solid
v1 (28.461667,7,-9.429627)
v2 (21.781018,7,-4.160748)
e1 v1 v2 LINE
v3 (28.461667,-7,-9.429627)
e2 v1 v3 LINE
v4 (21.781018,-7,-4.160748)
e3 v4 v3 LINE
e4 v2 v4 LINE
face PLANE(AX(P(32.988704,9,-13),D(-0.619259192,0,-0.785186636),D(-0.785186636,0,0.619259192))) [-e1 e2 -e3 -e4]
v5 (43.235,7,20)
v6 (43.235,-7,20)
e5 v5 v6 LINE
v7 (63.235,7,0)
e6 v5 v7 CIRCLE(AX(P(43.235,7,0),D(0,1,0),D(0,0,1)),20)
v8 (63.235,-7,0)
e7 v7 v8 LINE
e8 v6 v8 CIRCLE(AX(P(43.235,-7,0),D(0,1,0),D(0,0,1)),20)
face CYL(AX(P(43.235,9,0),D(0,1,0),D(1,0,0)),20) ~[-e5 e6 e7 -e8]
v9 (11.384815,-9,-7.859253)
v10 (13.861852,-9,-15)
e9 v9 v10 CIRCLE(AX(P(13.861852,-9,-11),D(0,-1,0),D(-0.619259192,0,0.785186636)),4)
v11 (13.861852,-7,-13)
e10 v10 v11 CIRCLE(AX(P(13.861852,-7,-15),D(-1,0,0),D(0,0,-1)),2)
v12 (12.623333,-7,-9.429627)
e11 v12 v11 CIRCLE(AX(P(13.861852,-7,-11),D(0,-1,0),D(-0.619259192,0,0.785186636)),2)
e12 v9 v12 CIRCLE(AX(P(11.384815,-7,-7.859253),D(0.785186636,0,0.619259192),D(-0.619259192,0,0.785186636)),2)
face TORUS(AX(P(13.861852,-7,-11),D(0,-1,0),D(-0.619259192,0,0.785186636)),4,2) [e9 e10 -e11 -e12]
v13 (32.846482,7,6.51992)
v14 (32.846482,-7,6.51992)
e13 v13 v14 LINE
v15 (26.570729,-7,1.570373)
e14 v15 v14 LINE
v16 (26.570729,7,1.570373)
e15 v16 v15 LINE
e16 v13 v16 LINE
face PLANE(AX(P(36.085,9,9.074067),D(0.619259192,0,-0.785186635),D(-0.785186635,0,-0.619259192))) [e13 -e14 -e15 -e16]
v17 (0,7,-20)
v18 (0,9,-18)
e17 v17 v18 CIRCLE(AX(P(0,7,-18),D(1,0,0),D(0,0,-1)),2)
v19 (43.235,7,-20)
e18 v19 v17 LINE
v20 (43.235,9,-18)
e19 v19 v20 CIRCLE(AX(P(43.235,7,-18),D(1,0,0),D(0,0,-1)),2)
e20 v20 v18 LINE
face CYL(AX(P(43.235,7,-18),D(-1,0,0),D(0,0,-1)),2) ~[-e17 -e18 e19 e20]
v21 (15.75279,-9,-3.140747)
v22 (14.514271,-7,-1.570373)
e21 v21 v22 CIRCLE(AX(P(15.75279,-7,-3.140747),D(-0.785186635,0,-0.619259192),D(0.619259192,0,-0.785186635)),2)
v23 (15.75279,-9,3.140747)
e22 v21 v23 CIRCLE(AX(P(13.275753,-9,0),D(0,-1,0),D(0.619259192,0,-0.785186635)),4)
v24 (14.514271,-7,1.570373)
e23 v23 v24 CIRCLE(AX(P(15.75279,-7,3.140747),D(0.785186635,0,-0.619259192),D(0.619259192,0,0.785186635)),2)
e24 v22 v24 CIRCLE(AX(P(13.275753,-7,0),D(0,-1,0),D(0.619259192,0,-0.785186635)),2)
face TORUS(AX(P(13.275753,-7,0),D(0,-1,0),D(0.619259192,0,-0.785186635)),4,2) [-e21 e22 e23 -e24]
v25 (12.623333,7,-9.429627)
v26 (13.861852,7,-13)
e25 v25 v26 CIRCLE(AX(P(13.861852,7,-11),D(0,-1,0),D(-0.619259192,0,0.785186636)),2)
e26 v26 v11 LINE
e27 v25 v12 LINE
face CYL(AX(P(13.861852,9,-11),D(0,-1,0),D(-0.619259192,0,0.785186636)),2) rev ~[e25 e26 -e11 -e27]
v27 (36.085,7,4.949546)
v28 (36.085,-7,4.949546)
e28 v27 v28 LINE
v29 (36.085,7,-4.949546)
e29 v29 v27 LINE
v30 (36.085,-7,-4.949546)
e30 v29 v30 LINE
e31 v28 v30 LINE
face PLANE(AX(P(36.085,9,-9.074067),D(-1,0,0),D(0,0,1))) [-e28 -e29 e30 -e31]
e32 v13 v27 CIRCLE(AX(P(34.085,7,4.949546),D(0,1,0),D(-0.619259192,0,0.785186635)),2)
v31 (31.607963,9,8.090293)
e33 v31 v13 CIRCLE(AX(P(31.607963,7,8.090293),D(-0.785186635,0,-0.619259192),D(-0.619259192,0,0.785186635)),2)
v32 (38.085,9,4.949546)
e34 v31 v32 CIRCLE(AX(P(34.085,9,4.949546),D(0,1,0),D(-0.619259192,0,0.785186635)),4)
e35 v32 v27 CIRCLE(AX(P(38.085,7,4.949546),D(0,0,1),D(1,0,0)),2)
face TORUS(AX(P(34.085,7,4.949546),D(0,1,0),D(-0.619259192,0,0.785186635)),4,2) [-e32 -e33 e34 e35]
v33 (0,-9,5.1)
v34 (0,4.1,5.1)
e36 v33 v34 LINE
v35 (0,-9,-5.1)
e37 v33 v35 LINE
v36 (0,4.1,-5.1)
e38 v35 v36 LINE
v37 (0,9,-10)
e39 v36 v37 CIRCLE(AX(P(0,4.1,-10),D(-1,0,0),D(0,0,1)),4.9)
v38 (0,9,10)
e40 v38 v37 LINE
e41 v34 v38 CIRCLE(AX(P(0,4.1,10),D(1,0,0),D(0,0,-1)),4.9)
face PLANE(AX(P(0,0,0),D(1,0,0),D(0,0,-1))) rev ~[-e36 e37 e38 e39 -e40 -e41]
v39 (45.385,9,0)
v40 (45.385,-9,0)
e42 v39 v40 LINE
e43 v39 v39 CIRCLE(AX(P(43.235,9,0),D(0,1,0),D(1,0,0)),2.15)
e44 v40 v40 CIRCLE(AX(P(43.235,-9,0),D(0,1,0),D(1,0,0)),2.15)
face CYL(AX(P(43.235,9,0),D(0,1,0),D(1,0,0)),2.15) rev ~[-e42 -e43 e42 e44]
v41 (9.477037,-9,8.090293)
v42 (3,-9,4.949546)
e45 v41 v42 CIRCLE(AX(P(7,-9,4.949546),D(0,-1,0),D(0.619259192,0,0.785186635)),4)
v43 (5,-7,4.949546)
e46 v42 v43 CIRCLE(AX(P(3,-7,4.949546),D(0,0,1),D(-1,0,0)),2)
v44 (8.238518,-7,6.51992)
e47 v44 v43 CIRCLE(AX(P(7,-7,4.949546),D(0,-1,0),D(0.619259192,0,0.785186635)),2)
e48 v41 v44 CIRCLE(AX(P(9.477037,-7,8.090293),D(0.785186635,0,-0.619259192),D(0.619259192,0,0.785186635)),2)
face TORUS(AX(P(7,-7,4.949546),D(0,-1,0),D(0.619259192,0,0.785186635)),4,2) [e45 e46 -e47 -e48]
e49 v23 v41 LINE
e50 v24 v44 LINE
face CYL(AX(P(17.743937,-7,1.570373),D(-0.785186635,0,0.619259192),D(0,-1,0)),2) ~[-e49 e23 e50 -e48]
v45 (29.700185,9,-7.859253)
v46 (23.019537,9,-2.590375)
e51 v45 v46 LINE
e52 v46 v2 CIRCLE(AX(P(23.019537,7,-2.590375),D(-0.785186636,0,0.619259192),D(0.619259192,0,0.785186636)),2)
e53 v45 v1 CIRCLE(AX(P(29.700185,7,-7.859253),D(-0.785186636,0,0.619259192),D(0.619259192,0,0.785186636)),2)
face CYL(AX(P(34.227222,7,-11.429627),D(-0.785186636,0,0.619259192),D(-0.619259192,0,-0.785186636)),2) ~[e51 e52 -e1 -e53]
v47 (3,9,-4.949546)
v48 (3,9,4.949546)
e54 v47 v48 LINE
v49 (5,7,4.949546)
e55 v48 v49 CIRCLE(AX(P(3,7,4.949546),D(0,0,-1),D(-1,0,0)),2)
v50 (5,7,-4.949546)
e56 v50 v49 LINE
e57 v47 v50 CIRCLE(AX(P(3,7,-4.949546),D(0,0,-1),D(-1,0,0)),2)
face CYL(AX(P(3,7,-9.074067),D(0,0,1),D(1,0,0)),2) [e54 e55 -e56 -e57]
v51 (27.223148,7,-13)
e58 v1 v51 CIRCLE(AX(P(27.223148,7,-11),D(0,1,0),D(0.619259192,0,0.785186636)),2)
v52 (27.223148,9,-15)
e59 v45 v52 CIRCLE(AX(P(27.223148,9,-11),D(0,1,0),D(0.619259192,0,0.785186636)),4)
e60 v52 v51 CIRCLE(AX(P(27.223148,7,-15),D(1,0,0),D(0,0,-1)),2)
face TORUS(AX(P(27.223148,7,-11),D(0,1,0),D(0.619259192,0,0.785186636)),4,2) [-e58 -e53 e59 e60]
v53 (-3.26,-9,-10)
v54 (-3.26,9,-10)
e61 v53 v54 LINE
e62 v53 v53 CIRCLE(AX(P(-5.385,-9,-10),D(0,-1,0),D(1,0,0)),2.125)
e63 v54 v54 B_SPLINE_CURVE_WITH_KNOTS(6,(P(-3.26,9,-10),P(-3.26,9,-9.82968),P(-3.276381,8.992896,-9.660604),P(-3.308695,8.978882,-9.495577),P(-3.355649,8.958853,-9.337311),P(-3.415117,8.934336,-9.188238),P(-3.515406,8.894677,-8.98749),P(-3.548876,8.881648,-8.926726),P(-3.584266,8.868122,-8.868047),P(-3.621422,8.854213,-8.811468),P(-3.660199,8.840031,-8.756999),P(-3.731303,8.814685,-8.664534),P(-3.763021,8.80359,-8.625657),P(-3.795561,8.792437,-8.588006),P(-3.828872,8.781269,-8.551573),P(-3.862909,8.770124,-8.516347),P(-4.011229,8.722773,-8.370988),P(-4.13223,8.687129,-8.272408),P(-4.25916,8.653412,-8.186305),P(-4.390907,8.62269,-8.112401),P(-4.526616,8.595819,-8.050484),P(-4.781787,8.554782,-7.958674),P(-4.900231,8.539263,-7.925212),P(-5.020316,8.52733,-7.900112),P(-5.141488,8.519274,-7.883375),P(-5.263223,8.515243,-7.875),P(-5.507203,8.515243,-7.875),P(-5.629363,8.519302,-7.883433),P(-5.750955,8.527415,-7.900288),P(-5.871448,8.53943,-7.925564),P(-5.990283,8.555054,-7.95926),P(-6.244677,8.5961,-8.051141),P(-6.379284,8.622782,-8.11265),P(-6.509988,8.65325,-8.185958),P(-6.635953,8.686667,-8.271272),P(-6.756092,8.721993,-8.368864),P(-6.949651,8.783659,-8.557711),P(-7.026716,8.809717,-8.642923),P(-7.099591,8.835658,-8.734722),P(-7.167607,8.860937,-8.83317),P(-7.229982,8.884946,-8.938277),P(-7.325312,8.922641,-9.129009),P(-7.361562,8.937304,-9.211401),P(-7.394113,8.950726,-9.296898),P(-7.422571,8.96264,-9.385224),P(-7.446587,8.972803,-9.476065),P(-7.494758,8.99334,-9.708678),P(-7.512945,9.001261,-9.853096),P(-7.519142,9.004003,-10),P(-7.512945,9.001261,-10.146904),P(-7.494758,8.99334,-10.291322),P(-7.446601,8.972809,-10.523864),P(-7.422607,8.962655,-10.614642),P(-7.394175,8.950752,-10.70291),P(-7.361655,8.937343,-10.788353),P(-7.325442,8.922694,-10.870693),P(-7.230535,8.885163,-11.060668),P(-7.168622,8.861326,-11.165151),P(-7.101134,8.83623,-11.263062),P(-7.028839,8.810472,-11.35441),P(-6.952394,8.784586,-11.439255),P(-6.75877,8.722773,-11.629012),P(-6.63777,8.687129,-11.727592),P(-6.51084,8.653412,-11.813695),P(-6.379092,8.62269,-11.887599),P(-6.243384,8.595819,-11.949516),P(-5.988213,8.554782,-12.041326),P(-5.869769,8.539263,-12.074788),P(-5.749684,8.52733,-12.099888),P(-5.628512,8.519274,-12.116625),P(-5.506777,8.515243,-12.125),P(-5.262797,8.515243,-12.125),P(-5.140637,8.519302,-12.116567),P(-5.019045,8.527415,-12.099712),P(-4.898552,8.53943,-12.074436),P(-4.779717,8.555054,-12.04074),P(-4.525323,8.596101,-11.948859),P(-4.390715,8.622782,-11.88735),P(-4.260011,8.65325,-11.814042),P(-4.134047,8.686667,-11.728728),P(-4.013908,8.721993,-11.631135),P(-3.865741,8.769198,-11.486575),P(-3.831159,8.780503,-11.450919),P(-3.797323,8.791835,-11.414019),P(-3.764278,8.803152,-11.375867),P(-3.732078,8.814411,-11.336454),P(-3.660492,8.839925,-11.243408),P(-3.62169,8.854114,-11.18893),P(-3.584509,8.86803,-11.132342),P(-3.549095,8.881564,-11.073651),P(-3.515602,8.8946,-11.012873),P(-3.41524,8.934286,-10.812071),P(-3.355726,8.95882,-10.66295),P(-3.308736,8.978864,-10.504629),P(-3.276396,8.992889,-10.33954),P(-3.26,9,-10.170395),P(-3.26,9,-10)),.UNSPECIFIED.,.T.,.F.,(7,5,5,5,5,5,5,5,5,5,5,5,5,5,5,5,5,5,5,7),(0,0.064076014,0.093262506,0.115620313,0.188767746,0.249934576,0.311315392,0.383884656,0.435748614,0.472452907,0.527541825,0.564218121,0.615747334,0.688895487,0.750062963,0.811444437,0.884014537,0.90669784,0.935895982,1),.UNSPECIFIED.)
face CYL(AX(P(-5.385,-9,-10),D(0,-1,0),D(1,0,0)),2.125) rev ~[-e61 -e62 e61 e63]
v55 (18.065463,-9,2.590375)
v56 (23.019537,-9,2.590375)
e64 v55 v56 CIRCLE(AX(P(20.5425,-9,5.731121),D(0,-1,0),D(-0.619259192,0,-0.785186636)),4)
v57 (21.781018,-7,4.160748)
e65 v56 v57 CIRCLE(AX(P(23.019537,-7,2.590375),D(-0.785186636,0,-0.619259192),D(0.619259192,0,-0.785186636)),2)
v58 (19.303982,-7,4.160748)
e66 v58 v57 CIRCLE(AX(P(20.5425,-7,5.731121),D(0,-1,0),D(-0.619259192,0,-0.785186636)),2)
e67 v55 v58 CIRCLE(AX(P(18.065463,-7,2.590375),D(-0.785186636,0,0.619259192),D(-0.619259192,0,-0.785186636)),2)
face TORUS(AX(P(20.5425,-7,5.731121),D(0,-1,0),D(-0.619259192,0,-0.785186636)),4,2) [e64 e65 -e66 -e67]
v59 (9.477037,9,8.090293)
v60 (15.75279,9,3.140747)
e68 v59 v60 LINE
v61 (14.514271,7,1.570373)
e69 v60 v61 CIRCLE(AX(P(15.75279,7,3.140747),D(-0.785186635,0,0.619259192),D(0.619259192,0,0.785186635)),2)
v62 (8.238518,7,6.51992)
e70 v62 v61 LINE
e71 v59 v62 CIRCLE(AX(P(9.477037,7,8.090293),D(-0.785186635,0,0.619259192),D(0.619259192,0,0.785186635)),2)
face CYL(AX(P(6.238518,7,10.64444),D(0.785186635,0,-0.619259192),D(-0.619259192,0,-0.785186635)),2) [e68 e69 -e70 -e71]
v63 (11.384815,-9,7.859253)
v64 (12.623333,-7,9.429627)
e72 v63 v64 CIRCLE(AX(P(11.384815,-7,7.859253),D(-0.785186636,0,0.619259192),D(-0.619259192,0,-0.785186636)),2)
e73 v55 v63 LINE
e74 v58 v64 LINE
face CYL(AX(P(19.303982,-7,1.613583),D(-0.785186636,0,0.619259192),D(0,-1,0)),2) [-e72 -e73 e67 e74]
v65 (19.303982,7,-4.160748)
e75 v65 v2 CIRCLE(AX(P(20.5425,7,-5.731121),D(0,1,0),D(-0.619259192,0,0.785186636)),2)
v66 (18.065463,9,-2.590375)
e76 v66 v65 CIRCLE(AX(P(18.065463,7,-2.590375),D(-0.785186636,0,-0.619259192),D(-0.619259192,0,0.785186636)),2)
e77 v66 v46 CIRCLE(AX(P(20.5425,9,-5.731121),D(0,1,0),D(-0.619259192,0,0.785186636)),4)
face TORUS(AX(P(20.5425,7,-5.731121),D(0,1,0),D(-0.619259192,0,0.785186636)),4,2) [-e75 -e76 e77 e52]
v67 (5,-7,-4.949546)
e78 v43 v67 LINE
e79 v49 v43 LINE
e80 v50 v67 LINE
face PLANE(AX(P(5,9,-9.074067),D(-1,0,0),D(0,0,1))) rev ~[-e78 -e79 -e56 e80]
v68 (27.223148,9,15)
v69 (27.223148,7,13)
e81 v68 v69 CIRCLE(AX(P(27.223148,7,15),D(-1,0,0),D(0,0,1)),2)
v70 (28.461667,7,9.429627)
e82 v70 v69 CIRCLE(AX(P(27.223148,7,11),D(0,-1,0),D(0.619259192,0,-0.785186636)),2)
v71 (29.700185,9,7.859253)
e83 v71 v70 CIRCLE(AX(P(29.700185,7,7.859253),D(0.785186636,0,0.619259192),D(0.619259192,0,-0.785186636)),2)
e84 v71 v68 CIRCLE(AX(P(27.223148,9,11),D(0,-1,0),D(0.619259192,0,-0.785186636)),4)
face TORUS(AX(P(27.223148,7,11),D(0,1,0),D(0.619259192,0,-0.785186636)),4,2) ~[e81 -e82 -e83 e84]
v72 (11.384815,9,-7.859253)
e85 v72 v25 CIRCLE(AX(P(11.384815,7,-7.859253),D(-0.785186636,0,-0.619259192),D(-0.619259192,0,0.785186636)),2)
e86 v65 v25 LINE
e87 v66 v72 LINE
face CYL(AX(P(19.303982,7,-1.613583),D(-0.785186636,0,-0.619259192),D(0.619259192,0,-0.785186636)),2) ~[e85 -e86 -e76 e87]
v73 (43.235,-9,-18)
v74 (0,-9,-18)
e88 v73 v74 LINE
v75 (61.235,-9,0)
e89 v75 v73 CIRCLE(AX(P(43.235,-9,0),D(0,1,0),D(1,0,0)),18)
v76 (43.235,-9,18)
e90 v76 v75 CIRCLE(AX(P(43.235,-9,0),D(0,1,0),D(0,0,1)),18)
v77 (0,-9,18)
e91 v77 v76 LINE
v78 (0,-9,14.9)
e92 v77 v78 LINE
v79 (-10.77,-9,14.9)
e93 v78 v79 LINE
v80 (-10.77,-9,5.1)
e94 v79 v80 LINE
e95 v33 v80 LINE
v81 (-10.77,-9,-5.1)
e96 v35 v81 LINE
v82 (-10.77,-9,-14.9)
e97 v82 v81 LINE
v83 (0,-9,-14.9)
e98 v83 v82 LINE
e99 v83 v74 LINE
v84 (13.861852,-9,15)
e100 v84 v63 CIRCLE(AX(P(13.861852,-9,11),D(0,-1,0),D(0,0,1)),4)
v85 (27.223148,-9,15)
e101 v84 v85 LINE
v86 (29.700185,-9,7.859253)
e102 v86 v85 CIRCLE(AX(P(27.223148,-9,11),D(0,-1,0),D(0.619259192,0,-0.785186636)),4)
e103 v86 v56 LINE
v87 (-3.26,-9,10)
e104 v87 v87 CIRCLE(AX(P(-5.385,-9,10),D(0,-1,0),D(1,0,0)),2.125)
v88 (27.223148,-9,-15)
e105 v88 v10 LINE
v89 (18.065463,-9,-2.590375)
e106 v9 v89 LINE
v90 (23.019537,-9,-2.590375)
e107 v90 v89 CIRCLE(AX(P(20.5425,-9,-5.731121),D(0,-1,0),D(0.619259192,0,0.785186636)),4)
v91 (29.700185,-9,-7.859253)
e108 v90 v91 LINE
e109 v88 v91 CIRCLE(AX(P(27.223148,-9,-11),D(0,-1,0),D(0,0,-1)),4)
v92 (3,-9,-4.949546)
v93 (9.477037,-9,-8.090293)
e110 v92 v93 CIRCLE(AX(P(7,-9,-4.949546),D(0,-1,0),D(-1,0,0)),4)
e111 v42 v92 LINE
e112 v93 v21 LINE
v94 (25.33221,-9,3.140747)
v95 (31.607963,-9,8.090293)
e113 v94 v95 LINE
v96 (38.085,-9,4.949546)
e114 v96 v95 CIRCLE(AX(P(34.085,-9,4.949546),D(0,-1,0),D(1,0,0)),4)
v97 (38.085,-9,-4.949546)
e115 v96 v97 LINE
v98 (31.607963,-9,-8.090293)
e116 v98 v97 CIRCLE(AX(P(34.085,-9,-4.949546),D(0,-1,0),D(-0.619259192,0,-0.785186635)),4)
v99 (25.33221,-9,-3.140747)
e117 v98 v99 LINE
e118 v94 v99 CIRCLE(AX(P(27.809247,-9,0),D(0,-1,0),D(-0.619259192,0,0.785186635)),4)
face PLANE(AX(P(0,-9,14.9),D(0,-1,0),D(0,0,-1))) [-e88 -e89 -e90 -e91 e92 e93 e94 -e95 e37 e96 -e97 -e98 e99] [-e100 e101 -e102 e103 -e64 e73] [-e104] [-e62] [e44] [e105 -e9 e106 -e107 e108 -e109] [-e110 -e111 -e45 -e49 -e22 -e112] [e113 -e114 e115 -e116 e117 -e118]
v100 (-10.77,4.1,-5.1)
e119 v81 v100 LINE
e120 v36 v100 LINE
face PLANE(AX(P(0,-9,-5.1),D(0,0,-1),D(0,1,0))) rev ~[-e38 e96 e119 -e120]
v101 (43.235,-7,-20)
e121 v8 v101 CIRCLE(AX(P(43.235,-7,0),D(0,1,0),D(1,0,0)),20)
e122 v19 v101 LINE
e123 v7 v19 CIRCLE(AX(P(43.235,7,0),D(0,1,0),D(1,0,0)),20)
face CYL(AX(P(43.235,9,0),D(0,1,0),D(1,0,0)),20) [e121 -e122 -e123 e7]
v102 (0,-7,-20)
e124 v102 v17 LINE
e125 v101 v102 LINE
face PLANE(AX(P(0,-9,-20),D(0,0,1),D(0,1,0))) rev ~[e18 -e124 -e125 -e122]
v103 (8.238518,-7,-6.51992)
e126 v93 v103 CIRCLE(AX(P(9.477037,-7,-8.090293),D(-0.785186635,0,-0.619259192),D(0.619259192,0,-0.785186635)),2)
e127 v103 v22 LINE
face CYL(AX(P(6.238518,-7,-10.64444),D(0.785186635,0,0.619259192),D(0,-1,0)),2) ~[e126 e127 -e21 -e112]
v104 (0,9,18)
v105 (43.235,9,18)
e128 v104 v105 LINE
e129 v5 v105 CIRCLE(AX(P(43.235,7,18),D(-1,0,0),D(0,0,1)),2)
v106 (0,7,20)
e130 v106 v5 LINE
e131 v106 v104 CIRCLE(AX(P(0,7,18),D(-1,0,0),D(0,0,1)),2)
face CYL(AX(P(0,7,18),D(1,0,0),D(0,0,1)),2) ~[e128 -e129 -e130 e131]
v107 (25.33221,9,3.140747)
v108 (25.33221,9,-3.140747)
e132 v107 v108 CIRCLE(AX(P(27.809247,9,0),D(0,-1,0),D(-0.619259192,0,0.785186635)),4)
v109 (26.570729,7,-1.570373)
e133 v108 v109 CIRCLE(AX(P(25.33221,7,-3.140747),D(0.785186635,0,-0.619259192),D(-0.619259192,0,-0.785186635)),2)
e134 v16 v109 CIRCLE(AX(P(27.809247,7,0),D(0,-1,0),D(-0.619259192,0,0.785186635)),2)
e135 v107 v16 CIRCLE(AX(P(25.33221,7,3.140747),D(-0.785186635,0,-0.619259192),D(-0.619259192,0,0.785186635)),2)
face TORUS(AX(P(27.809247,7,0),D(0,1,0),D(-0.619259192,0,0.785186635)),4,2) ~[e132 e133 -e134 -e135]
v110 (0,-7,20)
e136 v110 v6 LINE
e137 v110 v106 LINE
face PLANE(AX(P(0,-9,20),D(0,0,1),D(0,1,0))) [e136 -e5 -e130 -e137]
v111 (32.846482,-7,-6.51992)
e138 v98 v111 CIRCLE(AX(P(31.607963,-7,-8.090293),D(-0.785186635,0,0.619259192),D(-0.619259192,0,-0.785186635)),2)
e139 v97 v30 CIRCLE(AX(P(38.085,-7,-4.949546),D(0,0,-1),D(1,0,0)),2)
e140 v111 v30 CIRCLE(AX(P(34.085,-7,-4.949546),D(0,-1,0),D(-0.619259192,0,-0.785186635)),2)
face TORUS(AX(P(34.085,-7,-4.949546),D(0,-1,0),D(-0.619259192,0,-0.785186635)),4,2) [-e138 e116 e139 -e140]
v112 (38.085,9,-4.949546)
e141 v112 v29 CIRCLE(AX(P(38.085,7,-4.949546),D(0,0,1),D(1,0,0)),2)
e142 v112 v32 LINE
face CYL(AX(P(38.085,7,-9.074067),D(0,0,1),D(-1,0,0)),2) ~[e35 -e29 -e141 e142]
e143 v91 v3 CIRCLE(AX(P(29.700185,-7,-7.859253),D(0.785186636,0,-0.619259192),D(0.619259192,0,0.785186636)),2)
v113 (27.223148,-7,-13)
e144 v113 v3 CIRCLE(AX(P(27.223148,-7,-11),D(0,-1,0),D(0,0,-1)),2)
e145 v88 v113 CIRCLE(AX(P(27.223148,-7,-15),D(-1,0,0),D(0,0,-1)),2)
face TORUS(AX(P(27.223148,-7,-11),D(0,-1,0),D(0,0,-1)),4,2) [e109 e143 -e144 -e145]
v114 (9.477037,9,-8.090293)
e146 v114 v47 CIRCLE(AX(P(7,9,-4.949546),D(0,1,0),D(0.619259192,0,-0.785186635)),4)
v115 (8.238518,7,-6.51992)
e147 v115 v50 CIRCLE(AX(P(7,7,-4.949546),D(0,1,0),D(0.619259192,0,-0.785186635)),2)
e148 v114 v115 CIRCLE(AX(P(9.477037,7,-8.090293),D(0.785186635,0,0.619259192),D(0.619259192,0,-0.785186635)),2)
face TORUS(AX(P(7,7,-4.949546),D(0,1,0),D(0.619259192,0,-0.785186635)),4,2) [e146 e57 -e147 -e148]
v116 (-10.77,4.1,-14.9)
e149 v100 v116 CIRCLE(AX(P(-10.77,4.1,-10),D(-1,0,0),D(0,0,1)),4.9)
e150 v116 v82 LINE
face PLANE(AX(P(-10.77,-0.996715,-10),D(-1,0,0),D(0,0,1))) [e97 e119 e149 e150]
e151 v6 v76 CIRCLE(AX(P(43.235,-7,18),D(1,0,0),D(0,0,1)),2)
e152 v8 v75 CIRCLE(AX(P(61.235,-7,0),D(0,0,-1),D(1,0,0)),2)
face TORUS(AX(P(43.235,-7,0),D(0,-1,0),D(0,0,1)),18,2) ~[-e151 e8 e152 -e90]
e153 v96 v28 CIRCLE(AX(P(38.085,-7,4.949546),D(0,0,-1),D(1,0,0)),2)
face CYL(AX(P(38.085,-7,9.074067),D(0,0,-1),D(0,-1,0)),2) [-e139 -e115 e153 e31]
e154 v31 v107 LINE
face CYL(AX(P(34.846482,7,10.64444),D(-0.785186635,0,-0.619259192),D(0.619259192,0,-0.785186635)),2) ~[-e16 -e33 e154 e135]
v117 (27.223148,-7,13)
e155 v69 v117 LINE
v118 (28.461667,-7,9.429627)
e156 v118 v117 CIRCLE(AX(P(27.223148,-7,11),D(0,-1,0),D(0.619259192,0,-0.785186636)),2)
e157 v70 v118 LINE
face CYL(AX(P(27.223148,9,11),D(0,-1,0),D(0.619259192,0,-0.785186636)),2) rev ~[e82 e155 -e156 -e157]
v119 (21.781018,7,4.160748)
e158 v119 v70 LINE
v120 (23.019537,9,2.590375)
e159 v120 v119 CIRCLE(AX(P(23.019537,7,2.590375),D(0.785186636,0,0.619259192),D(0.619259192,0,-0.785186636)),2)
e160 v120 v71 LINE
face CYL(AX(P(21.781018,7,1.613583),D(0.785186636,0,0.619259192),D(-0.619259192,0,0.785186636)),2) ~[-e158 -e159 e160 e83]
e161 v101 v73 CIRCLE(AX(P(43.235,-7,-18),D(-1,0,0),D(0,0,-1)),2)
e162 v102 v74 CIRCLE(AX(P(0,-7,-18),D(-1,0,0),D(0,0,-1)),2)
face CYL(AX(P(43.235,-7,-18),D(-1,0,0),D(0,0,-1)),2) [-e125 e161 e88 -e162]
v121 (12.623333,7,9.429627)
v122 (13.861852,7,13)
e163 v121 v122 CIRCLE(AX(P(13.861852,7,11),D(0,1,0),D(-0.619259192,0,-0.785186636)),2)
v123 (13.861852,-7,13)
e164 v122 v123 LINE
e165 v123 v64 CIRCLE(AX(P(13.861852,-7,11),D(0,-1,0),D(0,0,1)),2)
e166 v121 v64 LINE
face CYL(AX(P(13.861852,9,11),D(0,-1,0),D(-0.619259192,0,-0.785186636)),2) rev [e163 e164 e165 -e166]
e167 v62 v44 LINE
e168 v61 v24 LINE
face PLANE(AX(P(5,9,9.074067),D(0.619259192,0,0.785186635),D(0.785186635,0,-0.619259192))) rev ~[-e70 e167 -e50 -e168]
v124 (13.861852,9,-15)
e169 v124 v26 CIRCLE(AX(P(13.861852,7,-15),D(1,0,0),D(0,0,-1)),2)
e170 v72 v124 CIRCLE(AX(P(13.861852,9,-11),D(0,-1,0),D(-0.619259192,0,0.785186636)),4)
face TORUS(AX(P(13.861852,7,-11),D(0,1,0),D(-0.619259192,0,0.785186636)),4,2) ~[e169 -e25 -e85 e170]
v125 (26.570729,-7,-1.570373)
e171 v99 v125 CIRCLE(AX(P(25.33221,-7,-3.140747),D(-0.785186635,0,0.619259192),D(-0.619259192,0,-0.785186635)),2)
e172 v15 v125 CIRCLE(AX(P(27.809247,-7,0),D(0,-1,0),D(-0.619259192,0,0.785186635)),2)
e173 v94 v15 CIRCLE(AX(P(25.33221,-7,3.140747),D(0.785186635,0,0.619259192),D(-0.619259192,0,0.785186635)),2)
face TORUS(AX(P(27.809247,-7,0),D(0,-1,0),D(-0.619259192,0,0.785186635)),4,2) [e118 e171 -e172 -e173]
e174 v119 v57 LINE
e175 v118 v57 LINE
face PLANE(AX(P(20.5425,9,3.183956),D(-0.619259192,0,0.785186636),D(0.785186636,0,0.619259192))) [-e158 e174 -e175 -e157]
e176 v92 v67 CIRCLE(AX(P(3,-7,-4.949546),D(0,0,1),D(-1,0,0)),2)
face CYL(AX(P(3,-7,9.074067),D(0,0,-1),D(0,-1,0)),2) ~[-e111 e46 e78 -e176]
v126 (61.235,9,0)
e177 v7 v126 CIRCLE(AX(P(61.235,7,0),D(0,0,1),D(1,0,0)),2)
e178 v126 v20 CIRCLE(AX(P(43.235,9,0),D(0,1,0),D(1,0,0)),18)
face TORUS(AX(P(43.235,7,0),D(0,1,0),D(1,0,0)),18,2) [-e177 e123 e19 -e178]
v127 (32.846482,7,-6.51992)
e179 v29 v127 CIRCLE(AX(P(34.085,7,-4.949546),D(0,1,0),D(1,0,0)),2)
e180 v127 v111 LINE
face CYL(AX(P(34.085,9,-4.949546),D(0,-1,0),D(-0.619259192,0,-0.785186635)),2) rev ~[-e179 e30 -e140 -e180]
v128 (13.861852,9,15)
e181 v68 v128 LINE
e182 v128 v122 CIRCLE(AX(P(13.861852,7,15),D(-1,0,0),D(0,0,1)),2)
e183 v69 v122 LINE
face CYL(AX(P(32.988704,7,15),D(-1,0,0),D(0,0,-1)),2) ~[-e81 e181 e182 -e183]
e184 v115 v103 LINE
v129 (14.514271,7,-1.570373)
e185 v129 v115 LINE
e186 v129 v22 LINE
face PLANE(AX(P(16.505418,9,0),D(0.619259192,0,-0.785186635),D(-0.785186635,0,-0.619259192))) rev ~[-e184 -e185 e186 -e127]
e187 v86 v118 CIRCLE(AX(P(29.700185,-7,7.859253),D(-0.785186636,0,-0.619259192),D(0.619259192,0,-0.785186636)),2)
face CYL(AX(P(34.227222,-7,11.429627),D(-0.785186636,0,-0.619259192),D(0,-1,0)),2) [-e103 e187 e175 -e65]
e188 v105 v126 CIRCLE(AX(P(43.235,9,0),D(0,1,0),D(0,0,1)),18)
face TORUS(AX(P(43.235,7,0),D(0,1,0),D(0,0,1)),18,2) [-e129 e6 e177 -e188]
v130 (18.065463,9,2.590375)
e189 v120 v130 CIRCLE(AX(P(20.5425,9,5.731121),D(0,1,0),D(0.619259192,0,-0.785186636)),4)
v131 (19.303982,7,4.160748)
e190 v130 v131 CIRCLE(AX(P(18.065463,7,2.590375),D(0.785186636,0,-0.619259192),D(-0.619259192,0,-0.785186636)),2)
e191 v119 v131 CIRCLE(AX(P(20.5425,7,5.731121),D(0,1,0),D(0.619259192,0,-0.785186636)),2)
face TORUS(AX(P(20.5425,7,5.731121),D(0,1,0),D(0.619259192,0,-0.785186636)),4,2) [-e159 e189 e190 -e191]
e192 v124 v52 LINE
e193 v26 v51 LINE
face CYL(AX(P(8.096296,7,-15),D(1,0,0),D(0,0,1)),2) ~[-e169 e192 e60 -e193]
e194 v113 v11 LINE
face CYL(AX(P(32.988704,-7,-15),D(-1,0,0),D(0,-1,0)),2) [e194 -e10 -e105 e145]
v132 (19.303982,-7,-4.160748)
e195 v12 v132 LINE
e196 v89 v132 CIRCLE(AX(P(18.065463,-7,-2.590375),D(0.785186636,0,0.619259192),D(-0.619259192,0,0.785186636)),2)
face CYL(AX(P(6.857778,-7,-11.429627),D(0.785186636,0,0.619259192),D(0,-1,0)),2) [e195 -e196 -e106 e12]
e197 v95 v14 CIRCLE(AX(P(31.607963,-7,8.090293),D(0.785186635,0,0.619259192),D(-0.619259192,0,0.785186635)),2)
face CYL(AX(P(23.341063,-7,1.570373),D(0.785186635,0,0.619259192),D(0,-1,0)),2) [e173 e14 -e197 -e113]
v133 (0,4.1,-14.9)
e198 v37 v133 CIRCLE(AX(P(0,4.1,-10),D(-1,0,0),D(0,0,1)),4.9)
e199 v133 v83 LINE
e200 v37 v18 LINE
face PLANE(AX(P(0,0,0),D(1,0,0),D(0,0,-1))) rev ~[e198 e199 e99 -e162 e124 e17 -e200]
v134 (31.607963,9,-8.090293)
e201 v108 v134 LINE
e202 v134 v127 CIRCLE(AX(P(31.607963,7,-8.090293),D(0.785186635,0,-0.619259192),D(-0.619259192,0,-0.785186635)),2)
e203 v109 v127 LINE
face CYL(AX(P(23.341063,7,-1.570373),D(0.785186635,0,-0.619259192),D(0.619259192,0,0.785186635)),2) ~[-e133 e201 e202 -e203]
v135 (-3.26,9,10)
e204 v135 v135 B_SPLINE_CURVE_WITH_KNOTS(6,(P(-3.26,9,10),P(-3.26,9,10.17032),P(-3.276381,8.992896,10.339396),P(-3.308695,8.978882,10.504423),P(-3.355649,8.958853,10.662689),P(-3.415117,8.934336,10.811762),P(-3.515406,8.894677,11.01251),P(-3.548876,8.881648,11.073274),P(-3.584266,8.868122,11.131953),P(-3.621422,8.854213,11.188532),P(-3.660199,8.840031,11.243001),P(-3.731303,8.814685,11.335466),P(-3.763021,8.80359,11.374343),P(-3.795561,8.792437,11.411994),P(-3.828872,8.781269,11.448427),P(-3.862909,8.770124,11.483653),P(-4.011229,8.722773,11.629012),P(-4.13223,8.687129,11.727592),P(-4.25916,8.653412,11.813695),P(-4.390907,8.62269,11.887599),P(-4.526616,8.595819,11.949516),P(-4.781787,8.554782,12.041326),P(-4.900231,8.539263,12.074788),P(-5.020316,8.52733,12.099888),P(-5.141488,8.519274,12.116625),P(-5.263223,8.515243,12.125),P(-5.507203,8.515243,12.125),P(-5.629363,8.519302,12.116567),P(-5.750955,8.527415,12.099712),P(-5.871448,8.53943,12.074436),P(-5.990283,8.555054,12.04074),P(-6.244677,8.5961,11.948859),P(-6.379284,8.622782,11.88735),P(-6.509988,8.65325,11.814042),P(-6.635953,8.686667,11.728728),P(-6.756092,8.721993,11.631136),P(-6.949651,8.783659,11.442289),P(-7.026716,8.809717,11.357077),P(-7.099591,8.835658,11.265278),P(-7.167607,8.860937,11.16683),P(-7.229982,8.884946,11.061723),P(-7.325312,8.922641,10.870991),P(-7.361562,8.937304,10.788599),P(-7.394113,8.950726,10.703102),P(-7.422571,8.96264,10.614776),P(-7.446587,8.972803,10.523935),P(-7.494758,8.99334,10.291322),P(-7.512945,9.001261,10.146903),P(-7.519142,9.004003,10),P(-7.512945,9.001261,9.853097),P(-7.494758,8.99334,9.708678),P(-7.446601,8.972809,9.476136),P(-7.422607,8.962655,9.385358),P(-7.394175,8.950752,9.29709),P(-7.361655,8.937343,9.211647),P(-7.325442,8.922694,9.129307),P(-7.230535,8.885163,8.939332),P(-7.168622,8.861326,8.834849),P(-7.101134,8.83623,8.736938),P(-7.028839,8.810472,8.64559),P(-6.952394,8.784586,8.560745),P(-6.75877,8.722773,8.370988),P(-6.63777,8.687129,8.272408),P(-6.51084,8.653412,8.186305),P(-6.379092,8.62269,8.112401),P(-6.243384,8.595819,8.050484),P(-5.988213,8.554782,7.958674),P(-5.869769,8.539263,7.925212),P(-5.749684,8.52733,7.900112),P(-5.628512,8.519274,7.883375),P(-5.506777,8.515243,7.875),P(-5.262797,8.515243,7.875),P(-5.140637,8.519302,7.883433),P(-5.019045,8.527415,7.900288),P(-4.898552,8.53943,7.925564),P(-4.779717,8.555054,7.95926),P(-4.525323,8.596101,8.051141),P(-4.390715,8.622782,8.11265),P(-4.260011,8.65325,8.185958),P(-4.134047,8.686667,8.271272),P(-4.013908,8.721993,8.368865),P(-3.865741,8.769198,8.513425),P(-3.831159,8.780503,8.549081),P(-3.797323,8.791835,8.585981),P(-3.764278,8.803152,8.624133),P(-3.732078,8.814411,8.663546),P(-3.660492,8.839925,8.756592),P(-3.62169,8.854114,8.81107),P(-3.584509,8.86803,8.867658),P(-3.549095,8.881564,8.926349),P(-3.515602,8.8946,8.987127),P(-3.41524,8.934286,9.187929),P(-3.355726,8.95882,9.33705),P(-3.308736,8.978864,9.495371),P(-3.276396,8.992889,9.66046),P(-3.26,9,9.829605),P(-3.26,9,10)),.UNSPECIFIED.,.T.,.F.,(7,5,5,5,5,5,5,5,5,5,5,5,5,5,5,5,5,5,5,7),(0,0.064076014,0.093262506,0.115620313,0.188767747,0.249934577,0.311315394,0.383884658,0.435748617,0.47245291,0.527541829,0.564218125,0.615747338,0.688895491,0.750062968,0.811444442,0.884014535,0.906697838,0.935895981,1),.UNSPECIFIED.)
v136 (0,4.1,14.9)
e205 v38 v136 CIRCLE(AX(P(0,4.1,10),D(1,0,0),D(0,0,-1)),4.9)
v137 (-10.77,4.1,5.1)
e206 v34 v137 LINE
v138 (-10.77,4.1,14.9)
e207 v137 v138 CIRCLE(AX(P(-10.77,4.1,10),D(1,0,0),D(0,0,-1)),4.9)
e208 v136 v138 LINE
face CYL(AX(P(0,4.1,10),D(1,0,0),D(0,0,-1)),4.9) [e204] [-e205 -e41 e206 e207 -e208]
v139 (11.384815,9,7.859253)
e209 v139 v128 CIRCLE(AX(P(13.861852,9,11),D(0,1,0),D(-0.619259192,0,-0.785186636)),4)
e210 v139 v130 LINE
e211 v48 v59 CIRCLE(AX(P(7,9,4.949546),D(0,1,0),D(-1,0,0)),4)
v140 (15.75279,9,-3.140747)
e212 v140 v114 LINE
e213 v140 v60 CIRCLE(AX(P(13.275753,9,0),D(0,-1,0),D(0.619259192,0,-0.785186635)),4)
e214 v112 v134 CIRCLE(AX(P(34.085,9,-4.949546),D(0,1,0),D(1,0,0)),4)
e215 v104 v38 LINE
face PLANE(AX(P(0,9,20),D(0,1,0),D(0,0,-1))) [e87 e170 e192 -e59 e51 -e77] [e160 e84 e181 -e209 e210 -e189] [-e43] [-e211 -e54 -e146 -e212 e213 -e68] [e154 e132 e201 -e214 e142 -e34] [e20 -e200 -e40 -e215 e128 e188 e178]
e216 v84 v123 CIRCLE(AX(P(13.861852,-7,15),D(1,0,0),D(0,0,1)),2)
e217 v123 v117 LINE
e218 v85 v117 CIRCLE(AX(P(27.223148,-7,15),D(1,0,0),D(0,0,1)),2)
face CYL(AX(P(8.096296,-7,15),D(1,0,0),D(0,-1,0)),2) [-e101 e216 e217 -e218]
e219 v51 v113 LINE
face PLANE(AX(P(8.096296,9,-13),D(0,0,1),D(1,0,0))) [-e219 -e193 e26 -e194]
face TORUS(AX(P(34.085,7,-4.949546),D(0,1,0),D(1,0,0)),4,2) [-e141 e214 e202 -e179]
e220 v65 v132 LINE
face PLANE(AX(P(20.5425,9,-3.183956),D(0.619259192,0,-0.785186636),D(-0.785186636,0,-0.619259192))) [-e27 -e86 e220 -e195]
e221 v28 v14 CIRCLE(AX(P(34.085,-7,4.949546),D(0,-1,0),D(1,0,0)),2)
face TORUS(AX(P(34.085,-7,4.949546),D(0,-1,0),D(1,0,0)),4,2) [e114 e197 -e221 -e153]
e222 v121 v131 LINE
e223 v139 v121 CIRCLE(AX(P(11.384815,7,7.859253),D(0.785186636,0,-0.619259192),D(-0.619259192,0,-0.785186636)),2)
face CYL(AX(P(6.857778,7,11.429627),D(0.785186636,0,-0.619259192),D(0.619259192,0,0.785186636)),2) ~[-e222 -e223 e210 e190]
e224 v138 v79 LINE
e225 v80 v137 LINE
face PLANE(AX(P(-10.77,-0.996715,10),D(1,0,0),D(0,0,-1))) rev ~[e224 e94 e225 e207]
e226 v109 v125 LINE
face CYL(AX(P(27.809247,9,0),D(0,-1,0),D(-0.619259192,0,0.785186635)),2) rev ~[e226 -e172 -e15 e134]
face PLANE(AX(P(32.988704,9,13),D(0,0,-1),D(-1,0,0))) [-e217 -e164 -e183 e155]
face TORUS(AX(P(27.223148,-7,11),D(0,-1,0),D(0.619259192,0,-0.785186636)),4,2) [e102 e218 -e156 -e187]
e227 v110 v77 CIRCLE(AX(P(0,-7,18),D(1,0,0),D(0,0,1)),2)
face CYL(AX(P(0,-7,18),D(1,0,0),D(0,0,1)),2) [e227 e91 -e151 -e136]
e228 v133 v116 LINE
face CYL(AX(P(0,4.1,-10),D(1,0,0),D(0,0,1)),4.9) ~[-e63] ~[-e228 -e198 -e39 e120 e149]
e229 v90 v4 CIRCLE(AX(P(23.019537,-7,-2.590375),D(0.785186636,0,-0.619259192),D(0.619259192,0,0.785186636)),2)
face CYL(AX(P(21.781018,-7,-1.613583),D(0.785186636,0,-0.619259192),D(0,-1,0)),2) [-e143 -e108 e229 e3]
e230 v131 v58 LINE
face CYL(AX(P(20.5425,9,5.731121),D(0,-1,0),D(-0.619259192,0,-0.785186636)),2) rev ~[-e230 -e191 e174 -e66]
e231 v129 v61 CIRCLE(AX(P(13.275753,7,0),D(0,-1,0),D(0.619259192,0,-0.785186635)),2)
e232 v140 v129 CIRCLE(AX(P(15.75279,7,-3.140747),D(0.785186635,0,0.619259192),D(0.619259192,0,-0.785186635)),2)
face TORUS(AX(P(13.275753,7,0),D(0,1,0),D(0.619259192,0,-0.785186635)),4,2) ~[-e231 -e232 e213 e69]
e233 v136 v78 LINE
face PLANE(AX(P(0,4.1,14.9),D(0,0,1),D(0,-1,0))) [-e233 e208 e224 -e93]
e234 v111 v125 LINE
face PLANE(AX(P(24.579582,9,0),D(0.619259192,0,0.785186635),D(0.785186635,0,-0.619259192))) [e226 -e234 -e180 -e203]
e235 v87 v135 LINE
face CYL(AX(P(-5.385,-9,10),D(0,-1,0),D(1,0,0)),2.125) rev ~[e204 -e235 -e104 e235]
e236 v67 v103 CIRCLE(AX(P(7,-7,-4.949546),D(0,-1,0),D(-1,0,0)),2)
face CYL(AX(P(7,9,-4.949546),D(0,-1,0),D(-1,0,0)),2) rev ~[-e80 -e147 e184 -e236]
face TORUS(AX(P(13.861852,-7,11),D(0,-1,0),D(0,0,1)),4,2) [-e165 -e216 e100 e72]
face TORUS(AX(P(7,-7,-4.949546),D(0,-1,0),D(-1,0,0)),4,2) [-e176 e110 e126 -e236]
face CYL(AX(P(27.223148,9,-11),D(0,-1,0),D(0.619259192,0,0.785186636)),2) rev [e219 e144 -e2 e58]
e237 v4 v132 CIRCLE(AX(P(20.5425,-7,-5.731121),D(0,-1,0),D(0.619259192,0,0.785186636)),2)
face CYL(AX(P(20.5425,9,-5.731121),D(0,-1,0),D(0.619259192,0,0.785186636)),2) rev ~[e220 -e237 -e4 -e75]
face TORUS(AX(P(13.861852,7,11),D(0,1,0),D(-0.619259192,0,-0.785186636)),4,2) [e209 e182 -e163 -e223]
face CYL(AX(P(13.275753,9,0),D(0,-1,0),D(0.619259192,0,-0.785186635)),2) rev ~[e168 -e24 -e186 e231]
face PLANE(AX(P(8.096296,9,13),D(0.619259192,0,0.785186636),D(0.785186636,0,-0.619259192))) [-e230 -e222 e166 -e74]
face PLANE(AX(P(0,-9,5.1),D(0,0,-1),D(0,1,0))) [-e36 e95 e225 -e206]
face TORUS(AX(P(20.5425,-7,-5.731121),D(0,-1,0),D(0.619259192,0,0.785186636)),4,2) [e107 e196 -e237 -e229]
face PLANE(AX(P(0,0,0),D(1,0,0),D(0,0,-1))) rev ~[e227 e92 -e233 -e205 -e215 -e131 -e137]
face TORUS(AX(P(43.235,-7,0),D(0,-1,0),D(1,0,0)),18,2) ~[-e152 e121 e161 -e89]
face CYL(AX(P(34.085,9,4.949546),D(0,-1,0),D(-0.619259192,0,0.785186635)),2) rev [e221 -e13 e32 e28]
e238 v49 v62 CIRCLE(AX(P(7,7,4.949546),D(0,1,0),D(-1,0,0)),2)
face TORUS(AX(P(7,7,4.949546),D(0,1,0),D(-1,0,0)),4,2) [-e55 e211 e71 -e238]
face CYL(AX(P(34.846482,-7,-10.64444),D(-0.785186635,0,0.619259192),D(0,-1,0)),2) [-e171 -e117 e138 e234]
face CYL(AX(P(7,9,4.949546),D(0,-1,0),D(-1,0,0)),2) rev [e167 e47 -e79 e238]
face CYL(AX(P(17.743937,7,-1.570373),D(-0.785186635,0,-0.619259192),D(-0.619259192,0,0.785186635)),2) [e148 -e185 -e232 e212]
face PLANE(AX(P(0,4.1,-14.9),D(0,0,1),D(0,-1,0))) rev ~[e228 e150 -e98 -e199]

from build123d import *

# Parameters (mm, degrees)
SKETCH1_W           = 40
SKETCH1_H           = 18
BOSS_EXTRUDE1_DEPTH = 63.235
CUT_EXTRUDE1_DEPTH  = 19
SKETCH3_R           = 2.15
CUT_EXTRUDE2_DEPTH  = 19
FILLET1_R           = 2
BOSS_EXTRUDE2_DEPTH = 10.77
SKETCH5_R           = 2.125
CUT_EXTRUDE3_DEPTH  = 19
CUT_EXTRUDE4_DEPTH  = 19.0000001
FILLET3_R           = 2


with BuildPart() as part:
    # Sketch1 → Boss-Extrude1 (new body)
    with BuildSketch(Plane(origin=(0, 0, 0), x_dir=(0, 0, -1), z_dir=(1, 0, 0))):
        Rectangle(SKETCH1_W, SKETCH1_H)
    extrude(amount=BOSS_EXTRUDE1_DEPTH)

    # Sketch2 → Cut-Extrude1 (cut, through all)
    with BuildSketch(Plane(origin=(0, 9, 0), x_dir=(1, 0, 0), z_dir=(0, 1, 0))):
        with BuildLine():
            Line((43.235, -20), (63.235, -20))
            Line((63.235, -20), (63.235, 0))
            ThreePointArc((63.235, 0), (57.377135624, -14.142135624), (43.235, -20))
        make_face()
    cut_extrude1 = extrude(amount=-CUT_EXTRUDE1_DEPTH, mode=Mode.SUBTRACT)

    # Mirror1: Cut-Extrude1 across plane
    add(cut_extrude1.mirror(Plane(origin=(0, 0, 0), x_dir=(1, 0, 0), z_dir=(0, 0, -1))), mode=Mode.SUBTRACT)

    # Sketch3 → Cut-Extrude2 (cut, through all)
    with BuildSketch(Plane(origin=(0, 9, 0), x_dir=(1, 0, 0), z_dir=(0, 1, 0))):
        with Locations((43.235, 0)):
            Circle(SKETCH3_R)
    extrude(amount=-CUT_EXTRUDE2_DEPTH, mode=Mode.SUBTRACT)

    # Fillet1
    fillet1_edges = [part.edges().sort_by_distance(p)[0] for p in [
        (21.6175, -9, 20),
        (21.6175, 9, 20),
        (63.235, -9, 0),
        (63.235, 9, 0),
        (21.6175, -9, -20),
        (21.6175, 9, -20),
    ]]
    fillet(fillet1_edges, radius=FILLET1_R)

    # Sketch4 → Boss-Extrude2 (add)
    with BuildSketch(Plane.ZY):
        with BuildLine():
            Line((14.9, -9), (5.1, -9))
            Line((5.1, -9), (5.1, 4.1))
            ThreePointArc((5.1, 4.1), (10, 9), (14.9, 4.1))
            Line((14.9, 4.1), (14.9, -9))
        make_face()
        with BuildLine():
            Line((-14.9, -9), (-5.1, -9))
            Line((-5.1, -9), (-5.1, 4.1))
            ThreePointArc((-5.1, 4.1), (-10, 9), (-14.9, 4.1))
            Line((-14.9, 4.1), (-14.9, -9))
        make_face()
    extrude(amount=BOSS_EXTRUDE2_DEPTH)

    # Sketch5 → Cut-Extrude3 (cut, through all)
    with BuildSketch(Plane.XZ.offset(9)):
        with Locations((-5.385, 10)):
            Circle(SKETCH5_R)
        with Locations((-5.385, -10)):
            Circle(SKETCH5_R)
    extrude(amount=-CUT_EXTRUDE3_DEPTH, mode=Mode.SUBTRACT)

    # Sketch6 → Cut-Extrude4 (cut, through all)
    with BuildSketch(Plane(origin=(0, 9, 0), x_dir=(1, 0, 0), z_dir=(0, 1, 0))):
        Polygon((8.096295962, 13), (32.988704038, 13), (20.5425, 3.183956383), align=None)
        Polygon((36.085, 9.074066823), (36.085, -9.074066823), (24.579581775, 0), align=None)
        Polygon((32.988704038, -13), (8.096295962, -13), (20.5425, -3.183956383), align=None)
        Polygon((5, 9.074066823), (5, -9.074066823), (16.505418225, 0), align=None)
    extrude(amount=-CUT_EXTRUDE4_DEPTH, mode=Mode.SUBTRACT)

    # Fillet3
    fillet3_edges = [part.edges().sort_by_distance(p)[0] for p in [
        (26.765602019, -9, 8.091978192),
        (20.5425, 0, 3.183956383),
        (20.5425, -9, 13),
        (32.988704038, 0, 13),
        (14.319397981, -9, 8.091978192),
        (8.096295962, 0, 13),
        (26.765602019, 9, 8.091978192),
        (14.319397981, 9, 8.091978192),
        (20.5425, 9, 13),
        (14.319397981, -9, -8.091978192),
        (20.5425, 0, -3.183956383),
        (20.5425, -9, -13),
        (8.096295962, 0, -13),
        (26.765602019, -9, -8.091978192),
        (32.988704038, 0, -13),
        (14.319397981, 9, -8.091978192),
        (26.765602019, 9, -8.091978192),
        (20.5425, 9, -13),
        (30.332290888, -9, 4.537033411),
        (36.085, 0, 9.074066823),
        (30.332290888, -9, -4.537033411),
        (24.579581775, 0, 0),
        (36.085, -9, 0),
        (36.085, 0, -9.074066823),
        (30.332290888, 9, 4.537033411),
        (36.085, 9, 0),
        (30.332290888, 9, -4.537033411),
        (10.752709112, -9, -4.537033411),
        (5, 0, -9.074066823),
        (10.752709112, -9, 4.537033411),
        (16.505418225, 0, 0),
        (5, -9, 0),
        (5, 0, 9.074066823),
        (10.752709112, 9, -4.537033411),
        (5, 9, 0),
        (10.752709112, 9, 4.537033411),
    ]]
    fillet(fillet3_edges, radius=FILLET3_R)


solid = part.part
